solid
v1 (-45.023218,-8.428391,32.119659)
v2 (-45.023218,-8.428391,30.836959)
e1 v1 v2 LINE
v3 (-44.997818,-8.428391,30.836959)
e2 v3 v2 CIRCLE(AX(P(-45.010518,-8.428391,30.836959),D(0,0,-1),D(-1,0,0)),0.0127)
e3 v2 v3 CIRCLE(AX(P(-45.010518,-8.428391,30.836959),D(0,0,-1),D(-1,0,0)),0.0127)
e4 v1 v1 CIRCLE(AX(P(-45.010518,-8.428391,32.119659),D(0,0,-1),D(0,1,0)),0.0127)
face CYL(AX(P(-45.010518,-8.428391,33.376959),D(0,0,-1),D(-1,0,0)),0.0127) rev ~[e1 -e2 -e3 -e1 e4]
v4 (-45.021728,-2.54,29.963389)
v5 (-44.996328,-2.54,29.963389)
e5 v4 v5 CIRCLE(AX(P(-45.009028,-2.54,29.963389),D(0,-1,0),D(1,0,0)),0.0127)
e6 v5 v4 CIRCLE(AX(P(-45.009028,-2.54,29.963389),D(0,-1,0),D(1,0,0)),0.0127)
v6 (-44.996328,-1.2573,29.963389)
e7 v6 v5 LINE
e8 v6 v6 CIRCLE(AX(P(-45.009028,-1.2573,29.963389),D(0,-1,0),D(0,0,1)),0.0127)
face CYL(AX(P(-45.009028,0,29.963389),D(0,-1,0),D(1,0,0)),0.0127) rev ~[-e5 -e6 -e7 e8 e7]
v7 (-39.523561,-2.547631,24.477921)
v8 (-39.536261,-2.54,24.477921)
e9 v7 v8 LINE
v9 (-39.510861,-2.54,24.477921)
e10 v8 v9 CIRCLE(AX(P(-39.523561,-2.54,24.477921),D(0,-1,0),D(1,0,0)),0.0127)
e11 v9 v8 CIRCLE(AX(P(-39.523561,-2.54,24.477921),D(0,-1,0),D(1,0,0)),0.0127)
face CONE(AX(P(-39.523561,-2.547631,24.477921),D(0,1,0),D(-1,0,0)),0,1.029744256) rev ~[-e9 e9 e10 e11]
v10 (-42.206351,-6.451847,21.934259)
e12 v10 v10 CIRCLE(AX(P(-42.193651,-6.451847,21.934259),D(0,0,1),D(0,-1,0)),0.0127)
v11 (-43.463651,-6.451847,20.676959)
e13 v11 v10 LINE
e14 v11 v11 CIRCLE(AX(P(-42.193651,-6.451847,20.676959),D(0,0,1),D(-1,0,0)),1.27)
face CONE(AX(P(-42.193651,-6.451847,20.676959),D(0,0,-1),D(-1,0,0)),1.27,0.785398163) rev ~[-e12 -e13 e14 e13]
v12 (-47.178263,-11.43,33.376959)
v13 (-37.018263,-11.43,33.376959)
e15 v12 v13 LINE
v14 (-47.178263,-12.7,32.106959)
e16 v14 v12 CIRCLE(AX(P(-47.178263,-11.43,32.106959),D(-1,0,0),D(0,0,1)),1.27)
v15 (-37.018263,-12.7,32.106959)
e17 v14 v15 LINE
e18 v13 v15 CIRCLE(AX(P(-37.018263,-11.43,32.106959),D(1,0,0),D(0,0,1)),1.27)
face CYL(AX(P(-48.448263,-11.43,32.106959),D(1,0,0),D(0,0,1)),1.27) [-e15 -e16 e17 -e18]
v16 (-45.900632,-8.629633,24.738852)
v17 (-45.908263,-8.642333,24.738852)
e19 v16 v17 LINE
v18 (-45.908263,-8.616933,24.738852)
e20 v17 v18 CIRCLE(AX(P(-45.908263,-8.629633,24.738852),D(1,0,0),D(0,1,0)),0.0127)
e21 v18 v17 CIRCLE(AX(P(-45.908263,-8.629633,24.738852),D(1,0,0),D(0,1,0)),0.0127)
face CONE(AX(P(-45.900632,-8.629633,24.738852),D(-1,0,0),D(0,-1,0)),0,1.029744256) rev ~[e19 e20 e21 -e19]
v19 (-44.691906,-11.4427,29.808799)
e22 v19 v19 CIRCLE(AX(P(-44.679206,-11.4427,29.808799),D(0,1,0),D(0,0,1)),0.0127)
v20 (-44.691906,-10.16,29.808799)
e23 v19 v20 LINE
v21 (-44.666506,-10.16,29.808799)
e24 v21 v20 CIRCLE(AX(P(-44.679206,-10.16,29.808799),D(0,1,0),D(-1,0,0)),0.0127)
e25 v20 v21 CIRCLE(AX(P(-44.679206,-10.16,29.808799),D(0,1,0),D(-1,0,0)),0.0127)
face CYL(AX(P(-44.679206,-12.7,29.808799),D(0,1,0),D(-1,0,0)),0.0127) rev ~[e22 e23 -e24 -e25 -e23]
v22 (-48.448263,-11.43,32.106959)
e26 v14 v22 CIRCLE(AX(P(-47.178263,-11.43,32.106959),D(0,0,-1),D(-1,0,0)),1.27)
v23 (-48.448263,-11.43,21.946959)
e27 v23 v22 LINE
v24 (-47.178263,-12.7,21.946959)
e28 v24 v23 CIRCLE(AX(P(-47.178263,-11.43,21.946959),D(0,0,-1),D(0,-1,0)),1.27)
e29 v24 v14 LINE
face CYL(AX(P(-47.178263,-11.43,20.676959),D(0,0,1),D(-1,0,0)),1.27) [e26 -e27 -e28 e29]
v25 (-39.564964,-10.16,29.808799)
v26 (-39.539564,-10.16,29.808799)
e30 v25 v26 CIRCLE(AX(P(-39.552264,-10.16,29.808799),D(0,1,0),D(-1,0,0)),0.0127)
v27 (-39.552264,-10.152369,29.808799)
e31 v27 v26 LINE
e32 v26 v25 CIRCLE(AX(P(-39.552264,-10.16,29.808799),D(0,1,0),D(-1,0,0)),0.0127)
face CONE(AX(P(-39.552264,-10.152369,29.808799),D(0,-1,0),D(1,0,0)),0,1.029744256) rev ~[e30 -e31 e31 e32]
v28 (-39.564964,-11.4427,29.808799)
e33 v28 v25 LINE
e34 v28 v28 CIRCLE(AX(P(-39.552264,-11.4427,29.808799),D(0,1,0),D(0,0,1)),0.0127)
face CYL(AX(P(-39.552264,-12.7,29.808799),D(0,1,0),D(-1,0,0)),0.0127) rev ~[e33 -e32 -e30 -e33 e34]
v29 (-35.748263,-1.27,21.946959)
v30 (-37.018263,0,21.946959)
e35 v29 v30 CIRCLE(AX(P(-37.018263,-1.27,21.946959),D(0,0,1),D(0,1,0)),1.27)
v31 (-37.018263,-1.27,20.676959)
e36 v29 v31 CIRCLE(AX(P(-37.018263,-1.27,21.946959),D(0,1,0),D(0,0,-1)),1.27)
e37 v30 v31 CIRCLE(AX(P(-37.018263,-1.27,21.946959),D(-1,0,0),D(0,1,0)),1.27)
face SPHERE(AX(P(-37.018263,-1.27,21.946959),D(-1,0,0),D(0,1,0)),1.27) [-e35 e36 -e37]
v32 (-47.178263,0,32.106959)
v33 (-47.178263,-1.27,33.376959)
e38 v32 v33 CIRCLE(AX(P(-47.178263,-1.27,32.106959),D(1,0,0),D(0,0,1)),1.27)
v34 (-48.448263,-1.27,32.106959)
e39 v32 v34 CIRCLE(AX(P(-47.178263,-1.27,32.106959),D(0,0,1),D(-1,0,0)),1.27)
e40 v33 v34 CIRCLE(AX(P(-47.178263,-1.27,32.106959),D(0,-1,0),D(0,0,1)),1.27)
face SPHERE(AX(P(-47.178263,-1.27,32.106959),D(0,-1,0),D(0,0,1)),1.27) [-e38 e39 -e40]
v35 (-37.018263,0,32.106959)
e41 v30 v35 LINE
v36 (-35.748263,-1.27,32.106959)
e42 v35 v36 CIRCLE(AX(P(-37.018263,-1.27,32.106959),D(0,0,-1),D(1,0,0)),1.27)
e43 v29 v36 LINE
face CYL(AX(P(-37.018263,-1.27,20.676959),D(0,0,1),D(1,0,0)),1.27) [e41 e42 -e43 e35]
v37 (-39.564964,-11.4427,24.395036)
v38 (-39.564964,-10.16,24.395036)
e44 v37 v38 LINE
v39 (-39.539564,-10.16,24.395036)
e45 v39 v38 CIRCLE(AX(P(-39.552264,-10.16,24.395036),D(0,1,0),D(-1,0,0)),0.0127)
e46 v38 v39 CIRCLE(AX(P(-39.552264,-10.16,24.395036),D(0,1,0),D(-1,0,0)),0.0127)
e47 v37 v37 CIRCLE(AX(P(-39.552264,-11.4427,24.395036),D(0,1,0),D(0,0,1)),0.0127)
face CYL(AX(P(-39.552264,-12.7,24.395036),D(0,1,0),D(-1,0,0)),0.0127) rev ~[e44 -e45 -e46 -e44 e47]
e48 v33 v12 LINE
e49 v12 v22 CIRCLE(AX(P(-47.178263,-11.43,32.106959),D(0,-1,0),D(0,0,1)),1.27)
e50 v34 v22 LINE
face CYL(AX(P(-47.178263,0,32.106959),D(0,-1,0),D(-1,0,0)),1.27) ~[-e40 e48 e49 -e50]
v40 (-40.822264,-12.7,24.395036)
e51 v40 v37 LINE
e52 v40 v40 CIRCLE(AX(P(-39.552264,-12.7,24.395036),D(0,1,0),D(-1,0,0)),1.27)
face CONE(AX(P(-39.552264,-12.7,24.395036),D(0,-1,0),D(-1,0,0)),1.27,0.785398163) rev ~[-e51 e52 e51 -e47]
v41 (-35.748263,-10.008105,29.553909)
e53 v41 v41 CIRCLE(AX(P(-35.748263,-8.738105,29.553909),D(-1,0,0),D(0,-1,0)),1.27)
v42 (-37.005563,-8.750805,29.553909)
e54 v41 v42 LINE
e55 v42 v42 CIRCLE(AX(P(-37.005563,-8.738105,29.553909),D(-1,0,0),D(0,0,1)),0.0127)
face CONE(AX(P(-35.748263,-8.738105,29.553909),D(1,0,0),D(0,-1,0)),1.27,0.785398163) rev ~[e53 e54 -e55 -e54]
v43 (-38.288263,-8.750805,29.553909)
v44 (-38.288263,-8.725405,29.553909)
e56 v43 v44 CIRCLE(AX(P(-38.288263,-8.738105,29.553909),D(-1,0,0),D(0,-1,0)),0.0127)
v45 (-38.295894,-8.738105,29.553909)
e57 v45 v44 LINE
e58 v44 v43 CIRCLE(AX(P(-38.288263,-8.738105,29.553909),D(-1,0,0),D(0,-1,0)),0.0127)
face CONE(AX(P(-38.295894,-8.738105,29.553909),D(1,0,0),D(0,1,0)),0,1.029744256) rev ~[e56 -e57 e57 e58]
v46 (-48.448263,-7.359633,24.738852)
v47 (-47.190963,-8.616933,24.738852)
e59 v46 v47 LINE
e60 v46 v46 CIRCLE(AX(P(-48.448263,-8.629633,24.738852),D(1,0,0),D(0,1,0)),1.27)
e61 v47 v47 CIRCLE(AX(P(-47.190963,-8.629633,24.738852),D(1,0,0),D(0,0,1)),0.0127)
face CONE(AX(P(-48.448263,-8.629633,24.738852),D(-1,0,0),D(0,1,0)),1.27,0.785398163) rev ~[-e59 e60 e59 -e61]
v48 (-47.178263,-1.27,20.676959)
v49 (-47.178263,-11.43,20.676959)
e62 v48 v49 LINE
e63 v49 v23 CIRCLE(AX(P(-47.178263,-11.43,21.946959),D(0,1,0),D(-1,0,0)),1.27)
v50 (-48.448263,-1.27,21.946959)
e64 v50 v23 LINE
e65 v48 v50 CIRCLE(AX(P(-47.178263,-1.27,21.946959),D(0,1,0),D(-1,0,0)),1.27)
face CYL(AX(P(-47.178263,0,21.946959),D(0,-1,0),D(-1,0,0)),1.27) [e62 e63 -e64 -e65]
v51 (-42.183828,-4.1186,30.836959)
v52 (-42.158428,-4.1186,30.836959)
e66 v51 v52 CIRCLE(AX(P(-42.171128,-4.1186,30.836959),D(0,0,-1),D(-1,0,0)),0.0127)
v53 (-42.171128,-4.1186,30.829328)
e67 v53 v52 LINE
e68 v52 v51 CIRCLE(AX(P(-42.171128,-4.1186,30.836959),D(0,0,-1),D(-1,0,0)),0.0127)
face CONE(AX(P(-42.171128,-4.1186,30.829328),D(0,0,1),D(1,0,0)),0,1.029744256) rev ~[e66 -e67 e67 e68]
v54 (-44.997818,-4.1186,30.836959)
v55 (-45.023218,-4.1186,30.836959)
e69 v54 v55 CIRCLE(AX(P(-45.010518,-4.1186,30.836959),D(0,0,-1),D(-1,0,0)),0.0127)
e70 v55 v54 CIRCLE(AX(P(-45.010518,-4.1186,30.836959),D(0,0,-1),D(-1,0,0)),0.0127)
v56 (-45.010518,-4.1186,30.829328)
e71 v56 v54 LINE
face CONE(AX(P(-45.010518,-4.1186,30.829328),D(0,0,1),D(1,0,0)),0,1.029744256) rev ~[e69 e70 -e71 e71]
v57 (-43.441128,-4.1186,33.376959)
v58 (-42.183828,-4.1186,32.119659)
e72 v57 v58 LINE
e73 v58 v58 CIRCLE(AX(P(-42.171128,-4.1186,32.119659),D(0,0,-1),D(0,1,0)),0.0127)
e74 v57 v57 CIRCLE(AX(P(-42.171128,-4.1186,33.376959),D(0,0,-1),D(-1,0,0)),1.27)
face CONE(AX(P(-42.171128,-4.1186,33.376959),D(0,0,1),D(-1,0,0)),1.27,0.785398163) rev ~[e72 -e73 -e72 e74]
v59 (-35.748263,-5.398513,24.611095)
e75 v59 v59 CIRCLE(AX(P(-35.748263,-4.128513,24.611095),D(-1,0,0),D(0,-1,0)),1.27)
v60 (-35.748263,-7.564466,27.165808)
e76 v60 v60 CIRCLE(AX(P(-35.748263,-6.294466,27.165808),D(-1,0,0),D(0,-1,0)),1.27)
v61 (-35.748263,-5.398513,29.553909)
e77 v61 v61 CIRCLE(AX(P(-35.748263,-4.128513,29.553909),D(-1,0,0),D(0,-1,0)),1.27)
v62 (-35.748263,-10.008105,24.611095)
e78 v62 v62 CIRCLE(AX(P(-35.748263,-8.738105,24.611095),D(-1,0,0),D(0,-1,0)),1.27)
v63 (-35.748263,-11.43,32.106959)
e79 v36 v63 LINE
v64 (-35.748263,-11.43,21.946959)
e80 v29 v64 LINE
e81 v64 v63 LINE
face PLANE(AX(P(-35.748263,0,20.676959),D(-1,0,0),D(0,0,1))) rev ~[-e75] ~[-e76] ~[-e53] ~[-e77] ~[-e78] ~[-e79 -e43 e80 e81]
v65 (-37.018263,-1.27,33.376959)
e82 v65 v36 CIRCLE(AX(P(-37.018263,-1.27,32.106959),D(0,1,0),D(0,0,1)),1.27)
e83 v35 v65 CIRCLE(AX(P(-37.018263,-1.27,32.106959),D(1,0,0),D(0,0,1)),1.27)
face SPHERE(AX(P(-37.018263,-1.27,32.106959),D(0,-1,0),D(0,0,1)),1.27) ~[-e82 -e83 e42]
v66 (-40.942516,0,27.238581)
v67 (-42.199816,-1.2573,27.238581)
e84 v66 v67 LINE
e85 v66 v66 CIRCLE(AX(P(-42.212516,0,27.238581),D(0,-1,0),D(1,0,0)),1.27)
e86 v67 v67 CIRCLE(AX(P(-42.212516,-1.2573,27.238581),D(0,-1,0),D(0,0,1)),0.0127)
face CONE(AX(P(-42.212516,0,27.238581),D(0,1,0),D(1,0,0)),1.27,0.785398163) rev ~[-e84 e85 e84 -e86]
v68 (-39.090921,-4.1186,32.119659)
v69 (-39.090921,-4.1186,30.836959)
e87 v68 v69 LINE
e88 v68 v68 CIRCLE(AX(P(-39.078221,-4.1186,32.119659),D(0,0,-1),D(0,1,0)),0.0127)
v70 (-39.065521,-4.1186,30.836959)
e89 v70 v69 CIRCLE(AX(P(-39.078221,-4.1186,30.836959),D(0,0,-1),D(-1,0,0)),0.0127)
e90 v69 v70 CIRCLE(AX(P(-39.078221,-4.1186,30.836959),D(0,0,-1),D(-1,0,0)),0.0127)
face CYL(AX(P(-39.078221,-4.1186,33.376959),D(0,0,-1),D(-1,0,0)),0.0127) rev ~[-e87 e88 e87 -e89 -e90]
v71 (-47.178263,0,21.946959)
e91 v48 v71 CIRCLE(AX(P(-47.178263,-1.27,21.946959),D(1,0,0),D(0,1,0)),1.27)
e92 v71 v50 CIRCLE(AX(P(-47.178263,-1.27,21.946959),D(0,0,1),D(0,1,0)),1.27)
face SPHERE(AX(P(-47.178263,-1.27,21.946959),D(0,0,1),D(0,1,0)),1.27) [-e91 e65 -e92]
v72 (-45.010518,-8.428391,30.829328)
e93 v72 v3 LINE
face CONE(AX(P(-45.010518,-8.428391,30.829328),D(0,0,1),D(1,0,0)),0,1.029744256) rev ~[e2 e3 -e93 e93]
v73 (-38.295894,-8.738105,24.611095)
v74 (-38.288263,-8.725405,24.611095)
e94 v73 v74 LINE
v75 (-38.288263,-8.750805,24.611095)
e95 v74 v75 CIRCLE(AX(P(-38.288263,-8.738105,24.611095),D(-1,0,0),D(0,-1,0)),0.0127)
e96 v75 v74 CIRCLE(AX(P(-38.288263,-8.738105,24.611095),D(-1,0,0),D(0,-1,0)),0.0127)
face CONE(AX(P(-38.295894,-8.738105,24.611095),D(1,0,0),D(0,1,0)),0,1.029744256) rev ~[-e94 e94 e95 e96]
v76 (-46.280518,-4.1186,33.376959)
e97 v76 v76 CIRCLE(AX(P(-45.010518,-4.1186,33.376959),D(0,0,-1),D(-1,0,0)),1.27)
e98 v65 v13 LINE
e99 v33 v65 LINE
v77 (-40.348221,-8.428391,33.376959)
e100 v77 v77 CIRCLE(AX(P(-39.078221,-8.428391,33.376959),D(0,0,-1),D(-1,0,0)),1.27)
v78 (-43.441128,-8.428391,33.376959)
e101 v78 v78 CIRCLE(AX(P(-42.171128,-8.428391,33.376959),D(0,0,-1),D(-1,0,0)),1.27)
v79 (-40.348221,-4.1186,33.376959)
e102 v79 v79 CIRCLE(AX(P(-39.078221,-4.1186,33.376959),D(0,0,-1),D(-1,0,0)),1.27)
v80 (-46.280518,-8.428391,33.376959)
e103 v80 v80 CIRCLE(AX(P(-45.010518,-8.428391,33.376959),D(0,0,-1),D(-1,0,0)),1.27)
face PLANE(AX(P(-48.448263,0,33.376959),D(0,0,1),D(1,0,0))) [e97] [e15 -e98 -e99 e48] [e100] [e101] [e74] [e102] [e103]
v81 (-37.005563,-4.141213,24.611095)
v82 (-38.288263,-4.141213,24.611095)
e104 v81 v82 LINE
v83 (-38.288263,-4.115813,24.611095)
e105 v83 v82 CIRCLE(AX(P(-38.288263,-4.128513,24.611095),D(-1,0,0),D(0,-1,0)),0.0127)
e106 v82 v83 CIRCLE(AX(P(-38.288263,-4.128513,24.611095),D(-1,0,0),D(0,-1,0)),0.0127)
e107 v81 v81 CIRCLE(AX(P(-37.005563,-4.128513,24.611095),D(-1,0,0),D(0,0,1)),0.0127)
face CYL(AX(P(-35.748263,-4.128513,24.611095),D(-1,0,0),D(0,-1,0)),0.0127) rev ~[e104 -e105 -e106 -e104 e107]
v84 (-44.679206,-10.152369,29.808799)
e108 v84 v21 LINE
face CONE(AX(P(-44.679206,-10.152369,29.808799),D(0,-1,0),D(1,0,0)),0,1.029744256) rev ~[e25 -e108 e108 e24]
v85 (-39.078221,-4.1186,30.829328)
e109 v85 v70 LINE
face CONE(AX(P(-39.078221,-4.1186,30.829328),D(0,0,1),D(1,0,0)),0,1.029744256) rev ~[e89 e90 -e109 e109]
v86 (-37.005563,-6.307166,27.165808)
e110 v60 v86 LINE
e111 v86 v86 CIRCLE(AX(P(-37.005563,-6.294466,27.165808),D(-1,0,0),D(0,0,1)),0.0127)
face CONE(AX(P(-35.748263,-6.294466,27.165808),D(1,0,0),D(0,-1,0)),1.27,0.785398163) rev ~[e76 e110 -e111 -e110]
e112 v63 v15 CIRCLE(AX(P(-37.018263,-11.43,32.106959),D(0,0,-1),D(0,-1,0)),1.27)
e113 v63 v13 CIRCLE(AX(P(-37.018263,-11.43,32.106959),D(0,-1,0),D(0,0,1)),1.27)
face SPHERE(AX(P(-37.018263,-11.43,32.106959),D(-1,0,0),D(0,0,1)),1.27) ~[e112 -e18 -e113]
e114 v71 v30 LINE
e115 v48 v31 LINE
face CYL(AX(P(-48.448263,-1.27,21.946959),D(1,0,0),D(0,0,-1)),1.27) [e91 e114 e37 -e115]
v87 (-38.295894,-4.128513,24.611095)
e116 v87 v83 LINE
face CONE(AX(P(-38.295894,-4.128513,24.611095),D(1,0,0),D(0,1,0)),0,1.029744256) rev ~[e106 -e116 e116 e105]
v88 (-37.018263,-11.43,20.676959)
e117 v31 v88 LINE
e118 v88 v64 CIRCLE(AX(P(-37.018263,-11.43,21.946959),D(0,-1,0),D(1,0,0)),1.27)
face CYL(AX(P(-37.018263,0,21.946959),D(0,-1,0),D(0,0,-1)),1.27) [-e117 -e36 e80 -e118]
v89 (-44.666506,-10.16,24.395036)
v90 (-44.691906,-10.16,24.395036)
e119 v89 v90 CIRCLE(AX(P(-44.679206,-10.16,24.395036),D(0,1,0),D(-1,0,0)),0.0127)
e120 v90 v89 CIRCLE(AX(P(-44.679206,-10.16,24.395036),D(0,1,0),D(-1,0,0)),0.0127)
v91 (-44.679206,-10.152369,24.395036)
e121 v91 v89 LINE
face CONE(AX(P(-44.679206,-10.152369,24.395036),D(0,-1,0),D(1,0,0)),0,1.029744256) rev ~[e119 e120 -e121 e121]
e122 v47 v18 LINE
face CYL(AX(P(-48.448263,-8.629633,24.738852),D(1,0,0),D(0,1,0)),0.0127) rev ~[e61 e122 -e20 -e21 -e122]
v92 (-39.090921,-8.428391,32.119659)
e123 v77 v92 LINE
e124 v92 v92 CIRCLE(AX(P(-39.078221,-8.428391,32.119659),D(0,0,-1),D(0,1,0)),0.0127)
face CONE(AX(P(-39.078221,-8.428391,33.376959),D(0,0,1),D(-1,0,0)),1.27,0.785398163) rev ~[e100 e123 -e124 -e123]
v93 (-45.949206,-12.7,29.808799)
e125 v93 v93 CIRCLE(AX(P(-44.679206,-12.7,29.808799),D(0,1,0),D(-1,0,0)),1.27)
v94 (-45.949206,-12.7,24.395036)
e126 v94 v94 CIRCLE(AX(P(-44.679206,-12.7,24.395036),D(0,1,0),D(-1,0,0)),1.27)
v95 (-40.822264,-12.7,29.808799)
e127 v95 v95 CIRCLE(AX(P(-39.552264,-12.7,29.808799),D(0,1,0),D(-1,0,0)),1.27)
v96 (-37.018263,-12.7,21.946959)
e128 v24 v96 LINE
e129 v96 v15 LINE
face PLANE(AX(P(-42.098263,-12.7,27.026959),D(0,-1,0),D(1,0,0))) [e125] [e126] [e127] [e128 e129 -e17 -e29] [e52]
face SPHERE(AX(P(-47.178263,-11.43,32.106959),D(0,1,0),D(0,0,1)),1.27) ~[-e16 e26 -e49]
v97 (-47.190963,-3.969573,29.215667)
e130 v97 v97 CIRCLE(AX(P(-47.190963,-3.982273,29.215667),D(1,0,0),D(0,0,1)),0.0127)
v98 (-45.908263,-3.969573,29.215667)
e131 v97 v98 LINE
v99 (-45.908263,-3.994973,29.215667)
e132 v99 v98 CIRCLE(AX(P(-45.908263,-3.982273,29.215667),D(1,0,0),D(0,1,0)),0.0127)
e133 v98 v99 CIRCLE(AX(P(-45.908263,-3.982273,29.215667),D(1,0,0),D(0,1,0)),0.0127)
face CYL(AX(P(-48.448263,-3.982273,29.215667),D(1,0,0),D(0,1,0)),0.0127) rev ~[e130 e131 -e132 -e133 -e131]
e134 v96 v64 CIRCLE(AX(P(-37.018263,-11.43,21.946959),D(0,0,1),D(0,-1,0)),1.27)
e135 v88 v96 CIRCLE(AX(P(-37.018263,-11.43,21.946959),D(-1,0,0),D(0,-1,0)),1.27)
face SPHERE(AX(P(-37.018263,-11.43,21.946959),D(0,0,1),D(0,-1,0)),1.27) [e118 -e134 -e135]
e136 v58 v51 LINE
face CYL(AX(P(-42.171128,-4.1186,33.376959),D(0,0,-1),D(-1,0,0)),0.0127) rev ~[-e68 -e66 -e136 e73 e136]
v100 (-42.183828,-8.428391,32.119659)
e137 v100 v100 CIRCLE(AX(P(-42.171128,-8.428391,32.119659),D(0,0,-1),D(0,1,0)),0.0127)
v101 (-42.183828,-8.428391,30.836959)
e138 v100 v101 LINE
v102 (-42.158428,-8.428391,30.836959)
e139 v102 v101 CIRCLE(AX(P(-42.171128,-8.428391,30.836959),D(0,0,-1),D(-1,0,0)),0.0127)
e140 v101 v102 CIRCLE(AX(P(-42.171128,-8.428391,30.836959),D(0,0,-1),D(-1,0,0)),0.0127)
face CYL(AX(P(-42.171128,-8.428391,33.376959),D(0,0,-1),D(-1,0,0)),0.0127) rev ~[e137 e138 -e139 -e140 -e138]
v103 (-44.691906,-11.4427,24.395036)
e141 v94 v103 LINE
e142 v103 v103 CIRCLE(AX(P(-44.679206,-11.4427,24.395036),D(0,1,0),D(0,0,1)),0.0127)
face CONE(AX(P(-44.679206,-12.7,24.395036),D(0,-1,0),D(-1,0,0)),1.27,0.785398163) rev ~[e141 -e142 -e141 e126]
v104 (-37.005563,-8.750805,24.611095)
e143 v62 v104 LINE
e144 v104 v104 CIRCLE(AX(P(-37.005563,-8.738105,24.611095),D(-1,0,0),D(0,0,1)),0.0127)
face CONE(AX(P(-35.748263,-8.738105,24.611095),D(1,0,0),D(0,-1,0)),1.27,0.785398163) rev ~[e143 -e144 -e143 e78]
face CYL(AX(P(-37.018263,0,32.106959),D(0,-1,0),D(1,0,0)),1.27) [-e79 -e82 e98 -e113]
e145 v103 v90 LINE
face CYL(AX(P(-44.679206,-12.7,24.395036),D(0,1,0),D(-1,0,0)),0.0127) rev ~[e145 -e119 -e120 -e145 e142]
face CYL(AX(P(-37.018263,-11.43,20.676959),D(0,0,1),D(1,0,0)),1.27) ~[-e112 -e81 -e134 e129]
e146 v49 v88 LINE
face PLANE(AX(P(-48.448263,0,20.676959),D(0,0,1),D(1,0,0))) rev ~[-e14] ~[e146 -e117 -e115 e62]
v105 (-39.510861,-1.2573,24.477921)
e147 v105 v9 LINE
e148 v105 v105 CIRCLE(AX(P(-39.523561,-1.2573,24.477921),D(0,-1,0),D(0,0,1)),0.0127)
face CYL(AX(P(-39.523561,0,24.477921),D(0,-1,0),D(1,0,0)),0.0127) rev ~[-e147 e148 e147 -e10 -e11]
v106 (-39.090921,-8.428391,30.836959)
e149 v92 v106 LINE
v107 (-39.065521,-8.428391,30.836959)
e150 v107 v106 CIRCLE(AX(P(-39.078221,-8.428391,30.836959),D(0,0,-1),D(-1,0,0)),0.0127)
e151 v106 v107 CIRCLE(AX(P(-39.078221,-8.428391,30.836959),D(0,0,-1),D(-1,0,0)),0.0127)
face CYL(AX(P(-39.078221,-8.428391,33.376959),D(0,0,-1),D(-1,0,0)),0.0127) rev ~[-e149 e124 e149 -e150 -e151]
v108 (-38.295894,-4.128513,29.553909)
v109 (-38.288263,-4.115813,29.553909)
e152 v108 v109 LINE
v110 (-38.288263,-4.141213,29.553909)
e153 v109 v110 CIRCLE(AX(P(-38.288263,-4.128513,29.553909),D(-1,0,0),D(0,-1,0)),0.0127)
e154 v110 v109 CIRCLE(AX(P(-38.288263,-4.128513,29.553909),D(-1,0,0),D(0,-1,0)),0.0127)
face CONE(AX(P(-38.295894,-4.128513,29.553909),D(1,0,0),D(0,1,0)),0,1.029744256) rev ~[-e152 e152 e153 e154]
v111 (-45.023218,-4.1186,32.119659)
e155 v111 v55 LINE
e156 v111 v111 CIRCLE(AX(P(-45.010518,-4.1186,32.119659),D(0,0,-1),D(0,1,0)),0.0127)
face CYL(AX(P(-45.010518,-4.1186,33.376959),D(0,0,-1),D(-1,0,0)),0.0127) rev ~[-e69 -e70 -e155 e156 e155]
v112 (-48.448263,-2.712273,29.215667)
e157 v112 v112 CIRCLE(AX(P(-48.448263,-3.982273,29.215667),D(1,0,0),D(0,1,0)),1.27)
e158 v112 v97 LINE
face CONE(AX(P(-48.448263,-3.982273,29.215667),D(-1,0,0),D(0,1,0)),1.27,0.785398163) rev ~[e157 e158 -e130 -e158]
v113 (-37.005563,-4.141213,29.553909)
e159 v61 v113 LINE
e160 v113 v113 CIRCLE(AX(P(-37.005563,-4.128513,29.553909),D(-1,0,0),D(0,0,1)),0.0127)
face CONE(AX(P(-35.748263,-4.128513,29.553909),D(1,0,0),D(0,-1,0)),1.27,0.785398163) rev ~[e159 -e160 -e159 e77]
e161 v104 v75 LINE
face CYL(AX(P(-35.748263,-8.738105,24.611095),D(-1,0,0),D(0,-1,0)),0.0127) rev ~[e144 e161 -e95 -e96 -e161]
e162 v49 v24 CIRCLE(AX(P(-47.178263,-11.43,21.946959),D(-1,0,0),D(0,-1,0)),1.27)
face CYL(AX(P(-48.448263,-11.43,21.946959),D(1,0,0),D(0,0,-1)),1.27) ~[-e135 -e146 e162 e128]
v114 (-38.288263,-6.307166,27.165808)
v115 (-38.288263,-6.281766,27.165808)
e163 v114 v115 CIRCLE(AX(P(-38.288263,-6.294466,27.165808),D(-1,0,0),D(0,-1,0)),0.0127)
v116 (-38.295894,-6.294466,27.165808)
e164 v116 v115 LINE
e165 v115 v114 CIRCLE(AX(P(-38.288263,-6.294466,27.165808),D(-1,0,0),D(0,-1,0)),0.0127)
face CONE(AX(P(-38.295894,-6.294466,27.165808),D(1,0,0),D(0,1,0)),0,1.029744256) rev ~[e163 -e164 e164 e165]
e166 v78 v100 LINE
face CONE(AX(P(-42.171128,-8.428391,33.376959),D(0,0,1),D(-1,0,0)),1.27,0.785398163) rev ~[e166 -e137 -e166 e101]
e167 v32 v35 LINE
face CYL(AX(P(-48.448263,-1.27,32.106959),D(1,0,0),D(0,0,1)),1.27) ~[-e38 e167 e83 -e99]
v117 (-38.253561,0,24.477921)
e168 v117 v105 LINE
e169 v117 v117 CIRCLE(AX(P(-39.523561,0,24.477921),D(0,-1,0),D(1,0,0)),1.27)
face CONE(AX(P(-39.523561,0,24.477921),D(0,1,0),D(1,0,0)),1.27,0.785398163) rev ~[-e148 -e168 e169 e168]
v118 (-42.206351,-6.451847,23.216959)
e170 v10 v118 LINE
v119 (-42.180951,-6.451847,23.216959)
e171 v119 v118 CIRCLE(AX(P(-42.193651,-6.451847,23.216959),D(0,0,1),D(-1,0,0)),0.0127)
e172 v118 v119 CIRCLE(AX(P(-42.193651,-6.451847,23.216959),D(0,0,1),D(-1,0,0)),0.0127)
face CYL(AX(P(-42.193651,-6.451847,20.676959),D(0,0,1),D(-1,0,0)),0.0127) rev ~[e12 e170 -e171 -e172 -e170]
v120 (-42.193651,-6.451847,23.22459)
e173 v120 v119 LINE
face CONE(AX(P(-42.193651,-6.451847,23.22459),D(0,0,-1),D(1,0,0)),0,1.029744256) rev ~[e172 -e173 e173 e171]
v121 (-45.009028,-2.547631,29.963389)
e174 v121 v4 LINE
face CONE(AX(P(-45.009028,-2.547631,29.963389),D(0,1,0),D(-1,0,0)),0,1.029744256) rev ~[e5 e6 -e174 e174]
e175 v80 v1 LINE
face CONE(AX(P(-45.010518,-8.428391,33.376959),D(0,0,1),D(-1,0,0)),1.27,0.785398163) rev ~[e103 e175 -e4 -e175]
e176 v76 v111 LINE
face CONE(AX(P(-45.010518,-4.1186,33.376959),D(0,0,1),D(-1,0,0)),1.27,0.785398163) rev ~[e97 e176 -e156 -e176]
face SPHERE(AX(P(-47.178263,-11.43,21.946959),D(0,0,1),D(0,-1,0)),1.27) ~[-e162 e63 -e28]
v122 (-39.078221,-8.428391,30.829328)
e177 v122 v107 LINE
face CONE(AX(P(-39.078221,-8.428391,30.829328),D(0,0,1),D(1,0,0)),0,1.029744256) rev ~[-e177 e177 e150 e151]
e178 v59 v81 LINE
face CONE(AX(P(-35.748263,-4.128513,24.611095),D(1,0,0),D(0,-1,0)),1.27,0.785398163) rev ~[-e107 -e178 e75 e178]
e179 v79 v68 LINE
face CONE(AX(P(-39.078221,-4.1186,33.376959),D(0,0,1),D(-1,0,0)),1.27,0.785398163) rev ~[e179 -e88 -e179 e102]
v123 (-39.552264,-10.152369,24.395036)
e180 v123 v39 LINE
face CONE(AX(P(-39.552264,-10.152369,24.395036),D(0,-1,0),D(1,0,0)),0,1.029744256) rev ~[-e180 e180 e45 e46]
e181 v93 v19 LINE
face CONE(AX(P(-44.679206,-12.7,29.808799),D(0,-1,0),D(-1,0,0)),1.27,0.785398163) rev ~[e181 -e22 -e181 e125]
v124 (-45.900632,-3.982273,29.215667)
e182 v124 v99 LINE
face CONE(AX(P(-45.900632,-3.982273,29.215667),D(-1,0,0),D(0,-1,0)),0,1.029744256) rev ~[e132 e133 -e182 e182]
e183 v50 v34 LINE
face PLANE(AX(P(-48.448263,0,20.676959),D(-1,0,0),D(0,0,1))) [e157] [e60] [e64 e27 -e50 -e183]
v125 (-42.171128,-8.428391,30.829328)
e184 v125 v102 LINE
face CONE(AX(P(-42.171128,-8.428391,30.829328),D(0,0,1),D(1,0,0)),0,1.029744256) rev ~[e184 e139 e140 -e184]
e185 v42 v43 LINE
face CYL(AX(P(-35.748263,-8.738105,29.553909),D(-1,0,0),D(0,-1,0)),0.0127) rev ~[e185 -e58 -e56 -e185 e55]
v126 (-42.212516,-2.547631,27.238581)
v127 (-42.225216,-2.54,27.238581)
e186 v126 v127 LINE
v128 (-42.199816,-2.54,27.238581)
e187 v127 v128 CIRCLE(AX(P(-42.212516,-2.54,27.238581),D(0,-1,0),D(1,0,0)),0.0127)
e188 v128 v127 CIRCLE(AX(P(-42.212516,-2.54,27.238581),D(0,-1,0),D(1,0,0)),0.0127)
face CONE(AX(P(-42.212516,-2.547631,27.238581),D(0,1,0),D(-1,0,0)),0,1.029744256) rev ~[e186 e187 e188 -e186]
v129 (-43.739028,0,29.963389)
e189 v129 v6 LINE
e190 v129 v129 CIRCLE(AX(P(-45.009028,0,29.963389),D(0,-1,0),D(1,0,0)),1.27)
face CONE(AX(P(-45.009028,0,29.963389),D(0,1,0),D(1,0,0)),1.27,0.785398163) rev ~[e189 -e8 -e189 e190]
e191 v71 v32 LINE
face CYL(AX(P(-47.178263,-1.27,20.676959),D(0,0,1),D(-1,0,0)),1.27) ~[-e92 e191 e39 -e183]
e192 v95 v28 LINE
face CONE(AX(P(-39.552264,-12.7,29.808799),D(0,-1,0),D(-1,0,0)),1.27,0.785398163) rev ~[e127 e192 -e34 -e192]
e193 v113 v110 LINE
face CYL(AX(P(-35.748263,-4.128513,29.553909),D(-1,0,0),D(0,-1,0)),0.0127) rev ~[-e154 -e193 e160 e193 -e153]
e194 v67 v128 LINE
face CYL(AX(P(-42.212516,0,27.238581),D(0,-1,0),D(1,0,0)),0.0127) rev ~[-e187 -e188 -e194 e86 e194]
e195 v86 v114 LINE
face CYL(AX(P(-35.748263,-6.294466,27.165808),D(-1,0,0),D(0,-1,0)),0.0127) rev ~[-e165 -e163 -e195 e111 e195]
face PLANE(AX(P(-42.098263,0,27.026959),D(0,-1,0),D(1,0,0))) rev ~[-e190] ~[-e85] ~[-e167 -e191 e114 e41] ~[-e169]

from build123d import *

# Parameters (mm, degrees)
F0_W            = 12.7
F0_H            = 12.7
F1_DEPTH        = 12.7
F2_R            = 1.27
F4_D            = 0.0254
F4_DEPTH        = 2.54
F4_CSINK_D      = 2.54
F4_CSINK_ANGLE  = 90
F4_TIP          = 0.0076309299
F6_D            = 0.0254
F6_DEPTH        = 2.54
F6_CSINK_D      = 2.54
F6_CSINK_ANGLE  = 90
F6_TIP          = 0.0076309299
F8_D            = 0.0254
F8_DEPTH        = 2.54
F8_CSINK_D      = 2.54
F8_CSINK_ANGLE  = 90
F8_TIP          = 0.0076309299
F10_D           = 0.0254
F10_DEPTH       = 2.54
F10_CSINK_D     = 2.54
F10_CSINK_ANGLE = 90
F10_TIP         = 0.0076309299
F12_D           = 0.0254
F12_DEPTH       = 2.54
F12_CSINK_D     = 2.54
F12_CSINK_ANGLE = 90
F12_TIP         = 0.0076309299
F14_D           = 0.0254
F14_DEPTH       = 2.54
F14_CSINK_D     = 2.54
F14_CSINK_ANGLE = 90
F14_TIP         = 0.0076309299


with BuildPart() as f1:
    # F0 (on Front) → F1 (new body)
    with BuildSketch(Plane.XZ):
        with Locations((-42.0982632786, 27.0269586705)):
            Rectangle(F0_W, F0_H)
    extrude(amount=F1_DEPTH)

    # F2
    f2_edges = [f1.edges().sort_by_distance(p)[0] for p in [
        (-48.448263, -6.35, 33.376959),
        (-42.098263, -12.7, 33.376959),
        (-35.748263, -6.35, 33.376959),
        (-35.748263, -12.7, 27.026959),
        (-48.448263, -12.7, 27.026959),
        (-42.098263, 0, 33.376959),
        (-42.098263, -12.7, 20.676959),
        (-48.448263, 0, 27.026959),
        (-42.098263, 0, 20.676959),
        (-35.748263, 0, 27.026959),
        (-48.448263, -6.35, 20.676959),
        (-35.748263, -6.35, 20.676959),
    ]]
    fillet(f2_edges, radius=F2_R)

    # F4
    with Locations(Plane.YZ.offset(-35.7482632786)):
        with Locations((-8.7381051853, 29.5539088547), (-4.1285129264, 29.5539088547), (-6.2944656238, 27.1658077836), (-4.1285129264, 24.6110949665), (-8.7381051853, 24.6110949665)):
            CounterSinkHole(F4_D / 2, F4_CSINK_D / 2, depth=F4_DEPTH, counter_sink_angle=F4_CSINK_ANGLE)
            with Locations((0, 0, -(F4_DEPTH + F4_TIP / 2))):  # 118° drill point
                Cone(0, F4_D / 2, F4_TIP, mode=Mode.SUBTRACT)

    # F6
    with Locations(Plane.XZ.offset(12.7)):
        with Locations((-44.6792058647, 29.8087988049), (-39.5522639155, 29.8087988049), (-39.5522639155, 24.3950355798), (-44.6792058647, 24.3950355798)):
            CounterSinkHole(F6_D / 2, F6_CSINK_D / 2, depth=F6_DEPTH, counter_sink_angle=F6_CSINK_ANGLE)
            with Locations((0, 0, -(F6_DEPTH + F6_TIP / 2))):  # 118° drill point
                Cone(0, F6_D / 2, F6_TIP, mode=Mode.SUBTRACT)

    # F8
    with Locations(Plane(origin=(-48.4482632786, 0, 0), x_dir=(0, -1, 0), z_dir=(-1, 0, 0))):
        with Locations((3.9822733961, 29.2156673968), (8.6296331137, 24.7388519347)):
            CounterSinkHole(F8_D / 2, F8_CSINK_D / 2, depth=F8_DEPTH, counter_sink_angle=F8_CSINK_ANGLE)
            with Locations((0, 0, -(F8_DEPTH + F8_TIP / 2))):  # 118° drill point
                Cone(0, F8_D / 2, F8_TIP, mode=Mode.SUBTRACT)

    # F10
    with Locations(Plane(origin=(0, 0, 0), x_dir=(-1, 0, 0), z_dir=(0, 1, 0))):
        with Locations((45.0090281665, 29.963389039), (42.2125160694, 27.2385813296), (39.5235605538, 24.4779214263)):
            CounterSinkHole(F10_D / 2, F10_CSINK_D / 2, depth=F10_DEPTH, counter_sink_angle=F10_CSINK_ANGLE)
            with Locations((0, 0, -(F10_DEPTH + F10_TIP / 2))):  # 118° drill point
                Cone(0, F10_D / 2, F10_TIP, mode=Mode.SUBTRACT)

    # F12
    with Locations(Plane.XY.offset(33.3769586705)):
        with Locations((-39.0782207251, -4.1185999289), (-42.1711280942, -4.1185999289), (-45.0105182827, -4.1185999289), (-45.0105182827, -8.4283910692), (-42.1711280942, -8.4283910692), (-39.0782207251, -8.4283910692)):
            CounterSinkHole(F12_D / 2, F12_CSINK_D / 2, depth=F12_DEPTH, counter_sink_angle=F12_CSINK_ANGLE)
            with Locations((0, 0, -(F12_DEPTH + F12_TIP / 2))):  # 118° drill point
                Cone(0, F12_D / 2, F12_TIP, mode=Mode.SUBTRACT)

    # F14
    with Locations(Plane(origin=(0, 0, 20.6769586705), x_dir=(1, 0, 0), z_dir=(0, 0, -1))):
        with Locations((-42.1936511993, 6.4518465661)):
            CounterSinkHole(F14_D / 2, F14_CSINK_D / 2, depth=F14_DEPTH, counter_sink_angle=F14_CSINK_ANGLE)
            with Locations((0, 0, -(F14_DEPTH + F14_TIP / 2))):  # 118° drill point
                Cone(0, F14_D / 2, F14_TIP, mode=Mode.SUBTRACT)


solid = f1.part
